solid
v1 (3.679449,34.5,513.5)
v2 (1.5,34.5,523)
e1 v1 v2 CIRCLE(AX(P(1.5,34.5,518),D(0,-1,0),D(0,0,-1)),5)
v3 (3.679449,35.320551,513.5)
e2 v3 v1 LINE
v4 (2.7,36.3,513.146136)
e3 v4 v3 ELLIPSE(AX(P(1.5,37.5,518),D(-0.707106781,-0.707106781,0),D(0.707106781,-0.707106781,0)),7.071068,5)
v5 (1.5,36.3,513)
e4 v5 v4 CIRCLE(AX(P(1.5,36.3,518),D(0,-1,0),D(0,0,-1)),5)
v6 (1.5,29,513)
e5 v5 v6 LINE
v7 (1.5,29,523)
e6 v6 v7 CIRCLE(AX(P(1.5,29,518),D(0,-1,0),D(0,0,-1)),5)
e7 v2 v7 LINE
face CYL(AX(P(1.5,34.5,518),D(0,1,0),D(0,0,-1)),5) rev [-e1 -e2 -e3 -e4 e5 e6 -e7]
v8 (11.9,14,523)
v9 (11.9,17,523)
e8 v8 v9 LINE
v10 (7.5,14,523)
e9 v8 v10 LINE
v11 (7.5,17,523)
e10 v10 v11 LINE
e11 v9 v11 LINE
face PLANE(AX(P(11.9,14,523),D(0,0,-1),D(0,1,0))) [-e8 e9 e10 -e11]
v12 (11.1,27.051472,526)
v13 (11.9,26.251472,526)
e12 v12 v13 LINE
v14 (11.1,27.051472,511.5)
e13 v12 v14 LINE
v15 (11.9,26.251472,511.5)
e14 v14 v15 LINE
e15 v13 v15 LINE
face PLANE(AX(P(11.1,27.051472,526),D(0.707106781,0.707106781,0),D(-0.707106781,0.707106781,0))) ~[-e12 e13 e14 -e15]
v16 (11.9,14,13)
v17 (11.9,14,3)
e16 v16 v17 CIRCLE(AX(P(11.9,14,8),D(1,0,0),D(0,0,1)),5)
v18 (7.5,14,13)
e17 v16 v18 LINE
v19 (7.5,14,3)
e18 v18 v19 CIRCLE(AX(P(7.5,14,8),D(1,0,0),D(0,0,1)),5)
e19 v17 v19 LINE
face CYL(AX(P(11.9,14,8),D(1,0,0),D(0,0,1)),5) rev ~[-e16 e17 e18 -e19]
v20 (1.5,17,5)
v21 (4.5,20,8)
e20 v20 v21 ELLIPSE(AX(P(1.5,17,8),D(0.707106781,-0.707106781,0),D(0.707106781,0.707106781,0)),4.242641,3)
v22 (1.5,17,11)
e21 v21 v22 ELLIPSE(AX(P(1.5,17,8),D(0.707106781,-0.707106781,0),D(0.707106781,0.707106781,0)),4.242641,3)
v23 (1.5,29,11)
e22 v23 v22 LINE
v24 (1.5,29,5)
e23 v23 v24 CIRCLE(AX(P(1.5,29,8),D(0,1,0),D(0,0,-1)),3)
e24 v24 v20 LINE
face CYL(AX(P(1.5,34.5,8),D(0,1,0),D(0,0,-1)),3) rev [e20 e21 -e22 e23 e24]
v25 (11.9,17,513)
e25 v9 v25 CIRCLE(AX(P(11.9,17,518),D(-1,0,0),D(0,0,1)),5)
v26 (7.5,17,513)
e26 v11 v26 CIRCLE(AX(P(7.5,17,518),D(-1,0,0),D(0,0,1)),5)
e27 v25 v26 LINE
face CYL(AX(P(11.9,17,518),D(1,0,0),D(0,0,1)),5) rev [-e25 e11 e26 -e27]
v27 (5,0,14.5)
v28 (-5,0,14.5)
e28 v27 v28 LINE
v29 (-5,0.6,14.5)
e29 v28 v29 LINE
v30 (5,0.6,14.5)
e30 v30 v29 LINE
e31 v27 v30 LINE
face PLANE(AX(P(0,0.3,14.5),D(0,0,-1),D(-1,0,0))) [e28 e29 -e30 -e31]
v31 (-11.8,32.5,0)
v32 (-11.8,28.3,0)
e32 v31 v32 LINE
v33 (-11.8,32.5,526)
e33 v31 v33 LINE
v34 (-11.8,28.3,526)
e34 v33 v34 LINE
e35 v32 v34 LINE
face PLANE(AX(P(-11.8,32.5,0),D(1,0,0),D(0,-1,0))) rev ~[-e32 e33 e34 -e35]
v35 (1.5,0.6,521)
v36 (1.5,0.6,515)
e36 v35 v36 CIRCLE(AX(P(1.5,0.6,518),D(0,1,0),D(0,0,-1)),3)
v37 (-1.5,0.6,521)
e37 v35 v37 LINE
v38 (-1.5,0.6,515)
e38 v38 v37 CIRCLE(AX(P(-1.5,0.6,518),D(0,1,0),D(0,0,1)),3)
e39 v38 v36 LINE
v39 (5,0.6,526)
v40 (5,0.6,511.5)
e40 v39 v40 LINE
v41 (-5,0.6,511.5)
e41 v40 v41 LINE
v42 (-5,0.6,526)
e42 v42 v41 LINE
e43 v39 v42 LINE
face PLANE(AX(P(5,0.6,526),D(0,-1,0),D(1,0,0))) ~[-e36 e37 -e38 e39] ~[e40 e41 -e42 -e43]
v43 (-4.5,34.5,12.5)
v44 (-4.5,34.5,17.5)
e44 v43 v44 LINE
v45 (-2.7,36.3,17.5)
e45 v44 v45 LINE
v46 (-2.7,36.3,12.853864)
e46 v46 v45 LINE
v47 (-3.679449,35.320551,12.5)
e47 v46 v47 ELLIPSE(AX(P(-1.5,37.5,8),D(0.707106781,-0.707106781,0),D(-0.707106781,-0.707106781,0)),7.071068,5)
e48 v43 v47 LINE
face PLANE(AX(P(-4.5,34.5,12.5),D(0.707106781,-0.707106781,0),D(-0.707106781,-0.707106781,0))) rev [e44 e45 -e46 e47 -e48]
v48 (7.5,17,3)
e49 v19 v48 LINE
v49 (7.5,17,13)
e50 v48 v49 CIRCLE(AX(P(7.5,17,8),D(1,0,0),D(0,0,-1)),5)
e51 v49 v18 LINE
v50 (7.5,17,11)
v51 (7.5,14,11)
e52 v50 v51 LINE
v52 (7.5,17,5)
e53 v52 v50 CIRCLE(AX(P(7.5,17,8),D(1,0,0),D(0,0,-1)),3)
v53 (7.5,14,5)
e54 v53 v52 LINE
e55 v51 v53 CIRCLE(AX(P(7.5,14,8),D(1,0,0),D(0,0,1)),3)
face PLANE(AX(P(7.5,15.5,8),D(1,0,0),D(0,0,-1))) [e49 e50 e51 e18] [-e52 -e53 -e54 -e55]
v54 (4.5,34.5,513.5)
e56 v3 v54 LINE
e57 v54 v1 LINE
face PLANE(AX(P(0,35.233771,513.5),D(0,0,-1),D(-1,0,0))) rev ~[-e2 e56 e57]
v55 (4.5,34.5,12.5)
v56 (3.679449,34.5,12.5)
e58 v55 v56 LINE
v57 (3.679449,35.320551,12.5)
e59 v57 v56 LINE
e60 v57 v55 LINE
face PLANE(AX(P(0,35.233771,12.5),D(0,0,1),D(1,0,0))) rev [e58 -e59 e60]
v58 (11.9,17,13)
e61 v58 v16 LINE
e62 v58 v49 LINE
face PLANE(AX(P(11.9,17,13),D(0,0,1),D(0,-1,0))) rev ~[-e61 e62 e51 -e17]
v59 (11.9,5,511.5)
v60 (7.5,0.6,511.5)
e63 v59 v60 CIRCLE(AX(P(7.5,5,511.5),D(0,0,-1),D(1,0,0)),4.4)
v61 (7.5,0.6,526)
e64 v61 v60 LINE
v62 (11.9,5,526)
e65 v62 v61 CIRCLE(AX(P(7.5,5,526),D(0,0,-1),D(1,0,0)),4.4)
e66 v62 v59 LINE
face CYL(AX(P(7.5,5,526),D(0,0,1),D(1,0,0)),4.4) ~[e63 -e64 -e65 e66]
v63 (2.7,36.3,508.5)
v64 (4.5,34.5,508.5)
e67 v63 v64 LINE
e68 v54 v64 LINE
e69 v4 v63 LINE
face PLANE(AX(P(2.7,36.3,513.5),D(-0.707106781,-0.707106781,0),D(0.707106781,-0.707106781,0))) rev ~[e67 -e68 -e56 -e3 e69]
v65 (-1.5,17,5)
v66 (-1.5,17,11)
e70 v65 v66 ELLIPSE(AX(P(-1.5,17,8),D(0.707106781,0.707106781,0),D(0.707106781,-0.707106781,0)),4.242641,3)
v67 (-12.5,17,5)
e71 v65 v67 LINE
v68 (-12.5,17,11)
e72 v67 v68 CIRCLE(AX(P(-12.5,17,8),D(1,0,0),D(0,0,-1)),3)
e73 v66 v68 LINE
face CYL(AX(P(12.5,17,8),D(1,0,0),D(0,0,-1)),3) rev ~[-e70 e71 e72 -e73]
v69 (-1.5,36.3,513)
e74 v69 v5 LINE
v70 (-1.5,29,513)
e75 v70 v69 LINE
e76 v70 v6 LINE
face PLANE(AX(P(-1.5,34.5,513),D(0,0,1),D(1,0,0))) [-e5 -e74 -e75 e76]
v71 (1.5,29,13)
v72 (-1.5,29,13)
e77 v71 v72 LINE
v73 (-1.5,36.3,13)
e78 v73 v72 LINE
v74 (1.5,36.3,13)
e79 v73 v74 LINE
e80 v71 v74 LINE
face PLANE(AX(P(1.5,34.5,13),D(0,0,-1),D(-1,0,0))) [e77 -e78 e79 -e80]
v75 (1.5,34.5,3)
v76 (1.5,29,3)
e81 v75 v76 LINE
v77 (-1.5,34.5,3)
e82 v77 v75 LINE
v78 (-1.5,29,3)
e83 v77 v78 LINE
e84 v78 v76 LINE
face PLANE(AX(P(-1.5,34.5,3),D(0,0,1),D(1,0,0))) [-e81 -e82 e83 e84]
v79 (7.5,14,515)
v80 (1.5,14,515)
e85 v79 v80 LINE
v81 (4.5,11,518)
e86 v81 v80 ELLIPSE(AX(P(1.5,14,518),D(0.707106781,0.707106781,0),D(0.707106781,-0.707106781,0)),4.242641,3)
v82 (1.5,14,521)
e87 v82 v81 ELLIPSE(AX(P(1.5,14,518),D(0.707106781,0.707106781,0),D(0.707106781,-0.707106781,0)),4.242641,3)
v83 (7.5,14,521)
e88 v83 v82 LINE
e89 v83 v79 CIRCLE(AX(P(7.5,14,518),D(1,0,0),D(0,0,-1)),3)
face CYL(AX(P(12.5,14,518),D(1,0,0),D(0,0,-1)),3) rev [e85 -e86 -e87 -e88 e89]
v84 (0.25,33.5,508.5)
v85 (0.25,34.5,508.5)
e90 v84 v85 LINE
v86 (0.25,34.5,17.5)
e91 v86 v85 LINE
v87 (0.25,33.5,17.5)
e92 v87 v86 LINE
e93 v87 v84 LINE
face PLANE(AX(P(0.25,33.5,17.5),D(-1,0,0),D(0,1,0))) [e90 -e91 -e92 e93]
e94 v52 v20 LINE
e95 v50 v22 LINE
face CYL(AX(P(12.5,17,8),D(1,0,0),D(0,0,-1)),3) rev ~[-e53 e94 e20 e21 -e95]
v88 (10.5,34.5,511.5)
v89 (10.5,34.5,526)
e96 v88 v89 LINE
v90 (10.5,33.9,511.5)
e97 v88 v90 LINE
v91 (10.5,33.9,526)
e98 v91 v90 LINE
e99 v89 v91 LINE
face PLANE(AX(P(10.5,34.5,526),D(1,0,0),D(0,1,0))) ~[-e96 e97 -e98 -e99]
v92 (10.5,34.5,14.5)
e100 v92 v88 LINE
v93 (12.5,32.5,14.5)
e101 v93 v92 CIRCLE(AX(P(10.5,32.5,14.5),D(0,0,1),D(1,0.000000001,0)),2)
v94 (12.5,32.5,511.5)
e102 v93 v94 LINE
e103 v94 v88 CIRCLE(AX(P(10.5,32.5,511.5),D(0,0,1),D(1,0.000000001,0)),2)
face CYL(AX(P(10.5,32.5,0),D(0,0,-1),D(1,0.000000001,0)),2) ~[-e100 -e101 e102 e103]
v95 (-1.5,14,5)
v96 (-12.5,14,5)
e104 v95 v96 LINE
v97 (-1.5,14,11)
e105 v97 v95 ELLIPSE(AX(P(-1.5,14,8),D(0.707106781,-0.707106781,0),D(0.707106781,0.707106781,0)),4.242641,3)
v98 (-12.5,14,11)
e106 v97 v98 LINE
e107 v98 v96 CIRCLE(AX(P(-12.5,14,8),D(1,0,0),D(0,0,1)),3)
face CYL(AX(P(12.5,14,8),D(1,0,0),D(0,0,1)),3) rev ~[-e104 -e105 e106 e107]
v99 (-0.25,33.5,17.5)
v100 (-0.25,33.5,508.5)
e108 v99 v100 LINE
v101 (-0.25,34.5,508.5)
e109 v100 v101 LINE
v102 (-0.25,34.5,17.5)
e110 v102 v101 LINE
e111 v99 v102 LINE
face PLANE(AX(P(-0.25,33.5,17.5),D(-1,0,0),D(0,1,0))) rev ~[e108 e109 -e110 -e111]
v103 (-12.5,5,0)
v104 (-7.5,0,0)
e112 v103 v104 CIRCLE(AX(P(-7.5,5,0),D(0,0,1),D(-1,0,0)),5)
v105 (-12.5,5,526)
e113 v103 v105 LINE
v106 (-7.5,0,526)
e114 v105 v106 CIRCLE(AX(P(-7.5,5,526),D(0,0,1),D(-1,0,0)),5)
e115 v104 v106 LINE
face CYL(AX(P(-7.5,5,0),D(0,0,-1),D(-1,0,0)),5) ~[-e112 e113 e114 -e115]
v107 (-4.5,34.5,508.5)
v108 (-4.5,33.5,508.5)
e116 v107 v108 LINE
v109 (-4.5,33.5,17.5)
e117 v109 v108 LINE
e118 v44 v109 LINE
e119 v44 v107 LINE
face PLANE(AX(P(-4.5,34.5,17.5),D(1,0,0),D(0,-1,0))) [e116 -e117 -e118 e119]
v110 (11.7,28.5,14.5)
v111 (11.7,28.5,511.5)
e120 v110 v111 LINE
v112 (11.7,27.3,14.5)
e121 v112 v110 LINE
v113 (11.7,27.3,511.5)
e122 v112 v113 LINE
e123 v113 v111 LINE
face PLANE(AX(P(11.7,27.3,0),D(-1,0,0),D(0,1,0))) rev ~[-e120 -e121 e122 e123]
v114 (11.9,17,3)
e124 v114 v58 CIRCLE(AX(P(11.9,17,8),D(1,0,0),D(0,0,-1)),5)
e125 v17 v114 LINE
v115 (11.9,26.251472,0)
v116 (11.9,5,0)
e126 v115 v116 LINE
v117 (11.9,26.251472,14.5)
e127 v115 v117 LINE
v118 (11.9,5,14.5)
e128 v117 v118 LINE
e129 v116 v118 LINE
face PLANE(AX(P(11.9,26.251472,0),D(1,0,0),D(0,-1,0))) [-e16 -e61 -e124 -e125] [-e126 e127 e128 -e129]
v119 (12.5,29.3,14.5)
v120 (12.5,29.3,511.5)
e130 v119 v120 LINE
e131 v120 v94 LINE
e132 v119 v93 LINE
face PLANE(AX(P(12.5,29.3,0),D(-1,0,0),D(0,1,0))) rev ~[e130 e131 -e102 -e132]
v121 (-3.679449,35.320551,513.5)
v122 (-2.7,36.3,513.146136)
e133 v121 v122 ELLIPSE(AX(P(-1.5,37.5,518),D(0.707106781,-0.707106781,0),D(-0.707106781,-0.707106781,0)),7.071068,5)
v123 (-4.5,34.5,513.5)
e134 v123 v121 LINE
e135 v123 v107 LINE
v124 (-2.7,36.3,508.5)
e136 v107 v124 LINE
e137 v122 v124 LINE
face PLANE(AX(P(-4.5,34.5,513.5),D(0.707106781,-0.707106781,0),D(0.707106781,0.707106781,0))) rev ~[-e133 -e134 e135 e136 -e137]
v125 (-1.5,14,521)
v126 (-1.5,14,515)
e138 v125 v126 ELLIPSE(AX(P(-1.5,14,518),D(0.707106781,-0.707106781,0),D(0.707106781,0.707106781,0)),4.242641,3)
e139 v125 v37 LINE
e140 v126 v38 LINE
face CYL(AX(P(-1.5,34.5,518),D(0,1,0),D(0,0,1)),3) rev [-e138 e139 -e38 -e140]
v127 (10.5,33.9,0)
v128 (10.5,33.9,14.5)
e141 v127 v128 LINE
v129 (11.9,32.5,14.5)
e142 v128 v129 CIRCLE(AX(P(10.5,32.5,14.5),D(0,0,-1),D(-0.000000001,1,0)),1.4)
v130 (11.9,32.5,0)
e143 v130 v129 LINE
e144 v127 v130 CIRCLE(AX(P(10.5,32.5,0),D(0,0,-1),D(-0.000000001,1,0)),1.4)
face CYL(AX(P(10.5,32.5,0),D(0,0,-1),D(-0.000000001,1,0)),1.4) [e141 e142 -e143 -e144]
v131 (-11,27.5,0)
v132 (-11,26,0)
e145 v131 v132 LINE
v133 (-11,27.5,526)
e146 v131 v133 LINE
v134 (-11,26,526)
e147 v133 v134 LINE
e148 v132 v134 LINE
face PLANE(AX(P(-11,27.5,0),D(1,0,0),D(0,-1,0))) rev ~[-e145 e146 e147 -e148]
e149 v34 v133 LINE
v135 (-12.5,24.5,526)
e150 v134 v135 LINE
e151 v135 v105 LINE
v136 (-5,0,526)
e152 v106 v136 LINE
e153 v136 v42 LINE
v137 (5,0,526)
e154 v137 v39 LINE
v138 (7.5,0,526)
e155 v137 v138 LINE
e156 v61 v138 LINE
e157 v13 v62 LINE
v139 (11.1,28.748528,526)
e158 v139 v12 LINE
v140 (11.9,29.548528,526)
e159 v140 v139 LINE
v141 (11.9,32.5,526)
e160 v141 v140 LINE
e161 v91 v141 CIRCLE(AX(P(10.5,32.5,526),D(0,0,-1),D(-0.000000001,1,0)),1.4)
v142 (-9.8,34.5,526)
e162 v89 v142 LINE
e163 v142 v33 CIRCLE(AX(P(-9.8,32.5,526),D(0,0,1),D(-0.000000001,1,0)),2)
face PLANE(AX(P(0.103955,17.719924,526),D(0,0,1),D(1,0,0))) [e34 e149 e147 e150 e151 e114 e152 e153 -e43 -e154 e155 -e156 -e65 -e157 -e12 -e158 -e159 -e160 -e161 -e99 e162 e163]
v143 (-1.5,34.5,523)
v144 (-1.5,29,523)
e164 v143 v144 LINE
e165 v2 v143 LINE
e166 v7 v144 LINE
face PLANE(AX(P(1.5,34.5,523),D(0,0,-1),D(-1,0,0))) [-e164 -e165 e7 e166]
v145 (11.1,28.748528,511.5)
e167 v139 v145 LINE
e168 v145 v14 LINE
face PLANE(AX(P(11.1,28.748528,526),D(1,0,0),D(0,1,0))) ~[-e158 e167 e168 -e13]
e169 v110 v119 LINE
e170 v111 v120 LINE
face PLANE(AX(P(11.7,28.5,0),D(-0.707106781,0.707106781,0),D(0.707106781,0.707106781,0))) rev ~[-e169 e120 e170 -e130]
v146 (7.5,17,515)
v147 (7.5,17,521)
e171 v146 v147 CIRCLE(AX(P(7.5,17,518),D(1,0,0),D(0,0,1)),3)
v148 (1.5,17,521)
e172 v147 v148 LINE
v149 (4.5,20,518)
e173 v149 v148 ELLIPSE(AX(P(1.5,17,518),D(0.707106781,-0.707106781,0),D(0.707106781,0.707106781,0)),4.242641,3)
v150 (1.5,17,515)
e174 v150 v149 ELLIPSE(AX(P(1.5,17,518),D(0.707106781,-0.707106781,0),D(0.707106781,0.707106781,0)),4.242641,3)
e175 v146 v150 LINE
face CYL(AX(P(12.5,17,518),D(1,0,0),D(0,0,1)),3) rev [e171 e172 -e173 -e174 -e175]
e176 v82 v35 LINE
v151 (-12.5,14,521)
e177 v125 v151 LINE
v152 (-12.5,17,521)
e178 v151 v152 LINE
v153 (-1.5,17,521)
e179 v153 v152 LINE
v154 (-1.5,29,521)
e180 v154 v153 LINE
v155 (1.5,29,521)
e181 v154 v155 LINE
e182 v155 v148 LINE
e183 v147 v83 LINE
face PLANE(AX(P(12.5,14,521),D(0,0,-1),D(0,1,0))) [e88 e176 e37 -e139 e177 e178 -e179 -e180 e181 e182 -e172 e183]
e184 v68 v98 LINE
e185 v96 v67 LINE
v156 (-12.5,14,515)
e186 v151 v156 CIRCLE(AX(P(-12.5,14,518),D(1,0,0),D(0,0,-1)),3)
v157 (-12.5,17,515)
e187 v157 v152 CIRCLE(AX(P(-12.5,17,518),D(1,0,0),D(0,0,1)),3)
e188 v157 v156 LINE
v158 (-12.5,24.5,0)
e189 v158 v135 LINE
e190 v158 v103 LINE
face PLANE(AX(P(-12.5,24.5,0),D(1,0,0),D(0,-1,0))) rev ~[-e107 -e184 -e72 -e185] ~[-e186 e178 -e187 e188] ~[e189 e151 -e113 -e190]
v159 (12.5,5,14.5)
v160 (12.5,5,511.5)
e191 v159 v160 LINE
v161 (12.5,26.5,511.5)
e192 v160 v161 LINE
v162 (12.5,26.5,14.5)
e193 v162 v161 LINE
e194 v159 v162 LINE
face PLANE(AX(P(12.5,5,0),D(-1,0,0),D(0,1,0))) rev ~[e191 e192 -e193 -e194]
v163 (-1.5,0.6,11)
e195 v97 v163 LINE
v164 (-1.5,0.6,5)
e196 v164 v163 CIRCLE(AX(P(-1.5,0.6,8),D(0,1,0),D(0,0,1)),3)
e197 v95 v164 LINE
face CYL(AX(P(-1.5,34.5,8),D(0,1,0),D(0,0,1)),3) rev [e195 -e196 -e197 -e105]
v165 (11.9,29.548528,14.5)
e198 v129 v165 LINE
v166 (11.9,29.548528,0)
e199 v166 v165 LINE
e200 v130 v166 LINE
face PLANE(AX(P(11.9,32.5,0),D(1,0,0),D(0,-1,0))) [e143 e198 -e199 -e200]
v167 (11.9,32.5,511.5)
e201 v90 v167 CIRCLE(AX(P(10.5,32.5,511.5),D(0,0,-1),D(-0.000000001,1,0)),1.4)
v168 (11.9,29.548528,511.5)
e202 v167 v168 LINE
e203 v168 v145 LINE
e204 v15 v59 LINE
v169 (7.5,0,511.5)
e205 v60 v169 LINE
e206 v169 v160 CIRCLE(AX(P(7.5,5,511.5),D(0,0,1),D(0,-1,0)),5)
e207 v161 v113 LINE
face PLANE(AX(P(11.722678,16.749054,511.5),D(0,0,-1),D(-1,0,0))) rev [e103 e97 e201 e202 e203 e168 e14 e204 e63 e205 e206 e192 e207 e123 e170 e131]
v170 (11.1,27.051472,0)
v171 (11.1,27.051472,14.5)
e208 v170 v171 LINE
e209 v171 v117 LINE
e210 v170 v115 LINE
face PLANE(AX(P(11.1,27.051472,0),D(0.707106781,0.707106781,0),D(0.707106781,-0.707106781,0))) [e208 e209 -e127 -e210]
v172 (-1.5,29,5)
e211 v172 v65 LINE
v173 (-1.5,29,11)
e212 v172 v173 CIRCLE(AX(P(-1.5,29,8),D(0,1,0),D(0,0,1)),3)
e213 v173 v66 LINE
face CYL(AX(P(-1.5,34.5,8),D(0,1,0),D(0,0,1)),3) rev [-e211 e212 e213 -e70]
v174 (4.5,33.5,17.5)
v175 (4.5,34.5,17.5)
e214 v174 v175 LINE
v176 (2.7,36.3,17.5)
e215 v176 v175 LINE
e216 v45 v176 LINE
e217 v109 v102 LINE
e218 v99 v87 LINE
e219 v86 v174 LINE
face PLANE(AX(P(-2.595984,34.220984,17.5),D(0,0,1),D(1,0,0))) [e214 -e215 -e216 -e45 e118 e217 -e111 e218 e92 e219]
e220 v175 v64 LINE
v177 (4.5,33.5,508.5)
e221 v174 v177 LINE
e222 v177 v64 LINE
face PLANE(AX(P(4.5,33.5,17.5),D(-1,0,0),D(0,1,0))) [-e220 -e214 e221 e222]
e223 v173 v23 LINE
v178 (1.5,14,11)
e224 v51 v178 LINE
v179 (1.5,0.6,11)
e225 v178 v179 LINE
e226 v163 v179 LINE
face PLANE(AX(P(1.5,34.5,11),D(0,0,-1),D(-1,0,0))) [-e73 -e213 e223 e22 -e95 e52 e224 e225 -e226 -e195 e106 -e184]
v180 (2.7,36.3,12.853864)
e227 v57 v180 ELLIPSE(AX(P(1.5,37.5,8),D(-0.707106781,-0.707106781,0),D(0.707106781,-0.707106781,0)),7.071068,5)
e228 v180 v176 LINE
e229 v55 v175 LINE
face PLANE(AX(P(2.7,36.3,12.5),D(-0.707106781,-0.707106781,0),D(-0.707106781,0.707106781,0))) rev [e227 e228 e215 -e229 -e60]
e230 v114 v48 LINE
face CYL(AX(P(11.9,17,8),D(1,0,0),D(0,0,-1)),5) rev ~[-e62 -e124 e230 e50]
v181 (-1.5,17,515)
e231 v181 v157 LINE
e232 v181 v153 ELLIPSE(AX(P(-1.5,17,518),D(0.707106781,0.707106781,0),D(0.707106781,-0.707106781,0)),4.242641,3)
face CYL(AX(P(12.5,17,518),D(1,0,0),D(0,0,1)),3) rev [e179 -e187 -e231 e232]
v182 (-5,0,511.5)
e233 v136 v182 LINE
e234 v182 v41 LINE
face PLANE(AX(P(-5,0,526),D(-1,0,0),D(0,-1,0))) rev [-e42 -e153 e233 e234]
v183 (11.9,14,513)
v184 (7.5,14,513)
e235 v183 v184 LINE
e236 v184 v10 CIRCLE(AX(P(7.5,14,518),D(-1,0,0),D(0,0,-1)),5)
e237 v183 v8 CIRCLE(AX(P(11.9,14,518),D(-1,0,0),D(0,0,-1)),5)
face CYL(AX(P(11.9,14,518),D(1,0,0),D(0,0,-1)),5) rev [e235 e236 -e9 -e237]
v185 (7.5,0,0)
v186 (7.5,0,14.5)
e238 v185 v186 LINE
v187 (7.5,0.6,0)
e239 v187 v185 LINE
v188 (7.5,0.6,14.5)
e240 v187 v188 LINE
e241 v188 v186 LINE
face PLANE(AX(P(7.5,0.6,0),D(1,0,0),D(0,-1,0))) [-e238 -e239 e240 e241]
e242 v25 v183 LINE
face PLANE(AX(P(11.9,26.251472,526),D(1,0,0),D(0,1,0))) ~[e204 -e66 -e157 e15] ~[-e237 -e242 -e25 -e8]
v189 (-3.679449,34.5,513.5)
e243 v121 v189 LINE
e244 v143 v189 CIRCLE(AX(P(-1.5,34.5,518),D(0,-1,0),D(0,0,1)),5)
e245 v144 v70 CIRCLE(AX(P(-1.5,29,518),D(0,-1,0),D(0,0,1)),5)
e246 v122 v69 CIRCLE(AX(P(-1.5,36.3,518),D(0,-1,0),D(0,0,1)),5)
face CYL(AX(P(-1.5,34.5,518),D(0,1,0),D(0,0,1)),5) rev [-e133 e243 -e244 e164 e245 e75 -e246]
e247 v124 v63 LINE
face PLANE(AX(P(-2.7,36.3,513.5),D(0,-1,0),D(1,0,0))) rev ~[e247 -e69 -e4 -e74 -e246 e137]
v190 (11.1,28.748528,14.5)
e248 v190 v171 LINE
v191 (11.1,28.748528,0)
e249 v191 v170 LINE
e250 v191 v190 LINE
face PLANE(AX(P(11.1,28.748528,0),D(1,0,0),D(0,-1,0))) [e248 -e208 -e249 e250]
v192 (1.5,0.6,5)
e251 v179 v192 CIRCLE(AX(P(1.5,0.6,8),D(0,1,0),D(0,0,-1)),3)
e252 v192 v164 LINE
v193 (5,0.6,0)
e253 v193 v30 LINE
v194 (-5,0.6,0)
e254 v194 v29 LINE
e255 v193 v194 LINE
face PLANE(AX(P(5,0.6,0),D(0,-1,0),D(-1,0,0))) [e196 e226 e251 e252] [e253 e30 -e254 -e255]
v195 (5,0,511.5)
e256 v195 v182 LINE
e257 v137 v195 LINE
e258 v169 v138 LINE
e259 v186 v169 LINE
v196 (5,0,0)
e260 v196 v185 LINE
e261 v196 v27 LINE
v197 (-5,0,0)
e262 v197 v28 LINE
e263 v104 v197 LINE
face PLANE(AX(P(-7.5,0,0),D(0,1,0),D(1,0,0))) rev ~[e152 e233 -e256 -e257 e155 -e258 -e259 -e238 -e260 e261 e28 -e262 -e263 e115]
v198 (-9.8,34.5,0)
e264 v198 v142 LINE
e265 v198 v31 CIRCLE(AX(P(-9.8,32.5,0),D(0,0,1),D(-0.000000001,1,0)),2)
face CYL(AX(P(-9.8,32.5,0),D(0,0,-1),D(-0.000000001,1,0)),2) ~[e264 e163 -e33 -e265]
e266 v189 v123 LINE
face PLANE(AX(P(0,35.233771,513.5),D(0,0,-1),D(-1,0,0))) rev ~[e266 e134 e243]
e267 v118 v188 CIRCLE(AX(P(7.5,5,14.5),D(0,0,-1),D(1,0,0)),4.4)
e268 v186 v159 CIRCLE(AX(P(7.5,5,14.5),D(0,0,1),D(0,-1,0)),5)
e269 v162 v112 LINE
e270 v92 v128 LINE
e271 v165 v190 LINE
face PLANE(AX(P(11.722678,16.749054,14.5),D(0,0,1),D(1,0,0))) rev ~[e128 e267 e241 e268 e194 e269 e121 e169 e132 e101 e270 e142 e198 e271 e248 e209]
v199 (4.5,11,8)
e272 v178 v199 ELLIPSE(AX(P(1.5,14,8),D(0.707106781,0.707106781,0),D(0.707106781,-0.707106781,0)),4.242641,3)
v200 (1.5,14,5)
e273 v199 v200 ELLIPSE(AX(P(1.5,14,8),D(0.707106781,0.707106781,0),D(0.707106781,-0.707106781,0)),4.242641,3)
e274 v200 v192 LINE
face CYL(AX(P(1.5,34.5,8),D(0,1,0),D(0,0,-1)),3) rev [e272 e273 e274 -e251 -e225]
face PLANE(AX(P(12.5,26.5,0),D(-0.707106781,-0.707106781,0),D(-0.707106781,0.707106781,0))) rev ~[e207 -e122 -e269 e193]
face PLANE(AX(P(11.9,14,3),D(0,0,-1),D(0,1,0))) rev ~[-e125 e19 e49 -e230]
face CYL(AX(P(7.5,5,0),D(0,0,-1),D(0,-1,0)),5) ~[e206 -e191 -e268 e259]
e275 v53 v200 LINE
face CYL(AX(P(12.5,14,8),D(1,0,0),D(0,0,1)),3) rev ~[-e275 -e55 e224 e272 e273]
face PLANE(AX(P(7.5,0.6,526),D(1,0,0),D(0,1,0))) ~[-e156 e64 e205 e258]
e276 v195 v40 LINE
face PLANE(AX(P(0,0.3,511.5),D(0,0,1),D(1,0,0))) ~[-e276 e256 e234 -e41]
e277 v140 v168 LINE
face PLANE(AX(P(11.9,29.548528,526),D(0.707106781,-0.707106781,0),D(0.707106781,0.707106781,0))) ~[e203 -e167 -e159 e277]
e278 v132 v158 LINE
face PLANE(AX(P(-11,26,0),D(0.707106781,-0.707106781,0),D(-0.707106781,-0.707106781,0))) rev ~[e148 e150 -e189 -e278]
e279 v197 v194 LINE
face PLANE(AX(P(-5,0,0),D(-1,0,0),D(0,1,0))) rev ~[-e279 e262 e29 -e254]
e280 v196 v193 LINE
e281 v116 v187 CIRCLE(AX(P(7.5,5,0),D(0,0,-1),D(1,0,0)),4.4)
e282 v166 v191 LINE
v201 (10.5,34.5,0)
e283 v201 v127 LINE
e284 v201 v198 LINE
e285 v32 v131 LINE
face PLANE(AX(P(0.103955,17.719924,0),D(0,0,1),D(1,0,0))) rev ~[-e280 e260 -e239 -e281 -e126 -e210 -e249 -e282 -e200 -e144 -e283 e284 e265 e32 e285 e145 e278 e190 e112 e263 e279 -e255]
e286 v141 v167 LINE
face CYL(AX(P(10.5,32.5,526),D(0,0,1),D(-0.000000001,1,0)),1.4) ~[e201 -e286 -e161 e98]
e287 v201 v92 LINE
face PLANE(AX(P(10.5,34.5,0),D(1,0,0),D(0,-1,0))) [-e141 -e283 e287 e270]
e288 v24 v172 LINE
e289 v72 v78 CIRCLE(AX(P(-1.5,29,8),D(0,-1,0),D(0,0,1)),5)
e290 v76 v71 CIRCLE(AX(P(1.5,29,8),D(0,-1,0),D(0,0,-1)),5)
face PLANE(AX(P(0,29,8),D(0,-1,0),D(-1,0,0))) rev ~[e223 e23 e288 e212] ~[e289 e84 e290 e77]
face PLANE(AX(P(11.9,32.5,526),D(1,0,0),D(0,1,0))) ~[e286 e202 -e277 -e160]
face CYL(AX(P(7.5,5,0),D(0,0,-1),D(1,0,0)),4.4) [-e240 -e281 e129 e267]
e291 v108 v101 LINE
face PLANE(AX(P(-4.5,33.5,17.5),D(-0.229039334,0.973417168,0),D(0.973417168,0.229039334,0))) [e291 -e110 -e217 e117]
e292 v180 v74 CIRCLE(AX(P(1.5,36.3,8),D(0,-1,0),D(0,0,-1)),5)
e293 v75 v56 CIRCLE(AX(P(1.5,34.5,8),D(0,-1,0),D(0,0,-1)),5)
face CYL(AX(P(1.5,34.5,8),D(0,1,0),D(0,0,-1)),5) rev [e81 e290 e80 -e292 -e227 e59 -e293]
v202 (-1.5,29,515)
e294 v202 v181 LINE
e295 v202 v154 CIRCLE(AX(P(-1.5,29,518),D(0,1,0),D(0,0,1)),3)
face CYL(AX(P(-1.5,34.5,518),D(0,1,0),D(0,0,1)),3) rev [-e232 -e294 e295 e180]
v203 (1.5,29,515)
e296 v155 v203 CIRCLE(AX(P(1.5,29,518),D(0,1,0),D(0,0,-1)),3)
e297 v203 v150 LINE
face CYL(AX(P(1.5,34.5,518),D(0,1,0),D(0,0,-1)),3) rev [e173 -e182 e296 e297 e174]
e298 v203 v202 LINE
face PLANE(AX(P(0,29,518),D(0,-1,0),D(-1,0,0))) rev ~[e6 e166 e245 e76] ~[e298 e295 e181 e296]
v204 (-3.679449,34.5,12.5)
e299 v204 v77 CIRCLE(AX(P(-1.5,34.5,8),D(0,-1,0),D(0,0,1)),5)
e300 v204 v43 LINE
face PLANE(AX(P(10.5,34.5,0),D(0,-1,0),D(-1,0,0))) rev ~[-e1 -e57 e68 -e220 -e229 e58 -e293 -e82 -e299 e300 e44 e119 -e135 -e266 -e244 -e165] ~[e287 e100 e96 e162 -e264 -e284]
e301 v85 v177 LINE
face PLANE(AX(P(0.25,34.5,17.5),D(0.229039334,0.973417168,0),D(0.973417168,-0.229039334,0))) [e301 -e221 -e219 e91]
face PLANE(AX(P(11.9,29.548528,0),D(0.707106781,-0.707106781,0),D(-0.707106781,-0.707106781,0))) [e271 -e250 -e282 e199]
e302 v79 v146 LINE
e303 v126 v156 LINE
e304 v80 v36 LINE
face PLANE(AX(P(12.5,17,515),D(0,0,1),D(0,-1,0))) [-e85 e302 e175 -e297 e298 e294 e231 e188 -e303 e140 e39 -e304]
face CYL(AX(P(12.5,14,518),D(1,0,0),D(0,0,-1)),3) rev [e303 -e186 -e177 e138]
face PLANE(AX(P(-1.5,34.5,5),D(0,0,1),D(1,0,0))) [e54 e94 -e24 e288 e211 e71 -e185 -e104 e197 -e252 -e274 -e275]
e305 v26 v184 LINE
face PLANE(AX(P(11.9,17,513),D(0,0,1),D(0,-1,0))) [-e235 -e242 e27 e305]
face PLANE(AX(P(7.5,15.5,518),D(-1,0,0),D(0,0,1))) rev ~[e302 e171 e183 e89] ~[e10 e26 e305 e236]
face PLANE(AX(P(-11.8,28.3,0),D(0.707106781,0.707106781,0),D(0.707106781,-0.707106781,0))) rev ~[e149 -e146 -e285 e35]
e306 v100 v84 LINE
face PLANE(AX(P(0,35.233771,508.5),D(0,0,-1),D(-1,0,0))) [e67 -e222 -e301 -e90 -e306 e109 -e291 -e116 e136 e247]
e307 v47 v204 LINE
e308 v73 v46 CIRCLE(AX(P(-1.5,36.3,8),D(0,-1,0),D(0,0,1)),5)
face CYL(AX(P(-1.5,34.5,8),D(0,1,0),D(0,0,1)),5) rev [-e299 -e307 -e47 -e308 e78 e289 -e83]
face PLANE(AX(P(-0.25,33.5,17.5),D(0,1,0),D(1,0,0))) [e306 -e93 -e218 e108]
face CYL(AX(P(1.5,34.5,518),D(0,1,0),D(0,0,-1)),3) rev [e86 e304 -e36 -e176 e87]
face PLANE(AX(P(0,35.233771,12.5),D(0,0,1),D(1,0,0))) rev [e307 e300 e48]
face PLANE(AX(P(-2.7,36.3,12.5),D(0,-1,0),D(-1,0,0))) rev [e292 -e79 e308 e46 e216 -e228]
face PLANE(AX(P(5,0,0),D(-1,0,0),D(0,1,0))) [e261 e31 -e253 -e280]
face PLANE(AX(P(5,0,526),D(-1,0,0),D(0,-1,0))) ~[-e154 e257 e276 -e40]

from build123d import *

# Parameters (mm, degrees)
EXTRUDE_1_DEPTH          = 526
SKETCH_2_W               = 10
SKETCH_2_H               = 0.6
CUT_EXTRUDE_1_DEPTH      = 14.5
EXTRUDE_START            = -12.5
EXTRUDE_2_DEPTH          = 5
CUT_EXTRUDE_2_DEPTH      = 4.4
CUT_EXTRUDE_3_DEPTH      = 26
CUT_EXTRUDE_4_DEPTH      = 5.5
CUT_EXTRUDE_4_DEPTH_BACK = 5.5
CUT_EXTRUDE_5_DEPTH      = 35.5
SKETCH_8_W               = 0.5
SKETCH_8_H               = 1
CUT_EXTRUDE_8_DEPTH      = 491


with BuildPart() as part:
    # Эскиз1 → Бобышка-Вытянуть1 (new body)
    with BuildSketch(Plane.XY):
        with BuildLine():
            Line((-11.8, 32.5), (-11.8, 28.3))
            Line((-11.8, 28.3), (-11, 27.5))
            Line((-11, 27.5), (-11, 26))
            Line((-11, 26), (-12.5, 24.5))
            Line((-12.5, 24.5), (-12.5, 5))
            ThreePointArc((-12.5, 5), (-11.035533906, 1.464466094), (-7.5, 0))
            Line((-7.5, 0), (7.5, 0))
            ThreePointArc((7.5, 0), (11.035533906, 1.464466094), (12.5, 5))
            Line((12.5, 5), (12.5, 26.5))
            Line((12.5, 26.5), (11.7, 27.3))
            Line((11.7, 27.3), (11.7, 28.5))
            Line((11.7, 28.5), (12.5, 29.3))
            Line((12.5, 29.3), (12.5, 32.5))
            ThreePointArc((12.5, 32.5), (11.914213562, 33.914213562), (10.5, 34.5))
            Line((10.5, 34.5), (-9.8, 34.5))
            ThreePointArc((-9.8, 34.5), (-11.214213562, 33.914213562), (-11.8, 32.5))
        make_face()
    extrude(amount=EXTRUDE_1_DEPTH)

    # Эскиз2 → Вырез-Вытянуть1 (cut)
    with BuildSketch(Plane(origin=(0, 0, 0), x_dir=(-1, 0, 0), z_dir=(0, 0, -1))):
        with BuildLine():
            ThreePointArc((-10.5, 33.9), (-11.489949494, 33.489949494), (-11.9, 32.5))
            Line((-11.9, 32.5), (-11.9, 29.548528137))
            Line((-11.9, 29.548528137), (-11.1, 28.748528137))
            Line((-11.1, 28.748528137), (-11.1, 27.051471863))
            Line((-11.1, 27.051471863), (-11.9, 26.251471863))
            Line((-11.9, 26.251471863), (-11.9, 5))
            ThreePointArc((-11.9, 5), (-10.611269837, 1.888730163), (-7.5, 0.6))
            Line((-7.5, 0.6), (-7.5, 0))
            ThreePointArc((-7.5, 0), (-11.035533906, 1.464466094), (-12.5, 5))
            Line((-12.5, 5), (-12.5, 26.5))
            Line((-12.5, 26.5), (-11.7, 27.3))
            Line((-11.7, 27.3), (-11.7, 28.5))
            Line((-11.7, 28.5), (-12.5, 29.3))
            Line((-12.5, 29.3), (-12.5, 32.5))
            ThreePointArc((-12.5, 32.5), (-11.914213562, 33.914213562), (-10.5, 34.5))
            Line((-10.5, 34.5), (-10.5, 33.9))
        make_face()
        with Locations((0, 0.3)):
            Rectangle(SKETCH_2_W, SKETCH_2_H)
    cut_extrude_1 = extrude(amount=-CUT_EXTRUDE_1_DEPTH, mode=Mode.SUBTRACT)

    # Эскиз5 → Бобышка-Вытянуть2 (add)
    with BuildSketch(Plane.XY.offset(526).offset(EXTRUDE_START)):
        Polygon((-4.5, 34.5), (-2.7, 36.3), (2.7, 36.3), (4.5, 34.5), align=None)
    extrude_2 = extrude(amount=-EXTRUDE_2_DEPTH)

    # Зеркальное отражение1: Вырез-Вытянуть1, Бобышка-Вытянуть2 across plane
    add(cut_extrude_1.mirror(Plane.XY.offset(263)), mode=Mode.SUBTRACT)
    add(extrude_2.mirror(Plane.XY.offset(263)))

    # Эскиз3 → Вырез-Вытянуть2 (cut)
    with BuildSketch(Plane(origin=(11.9, 0, 0), x_dir=(0, 0, -1), z_dir=(1, 0, 0))):
        with BuildLine():
            Line((-523, 14), (-523, 17))
            ThreePointArc((-523, 17), (-518, 22), (-513, 17))
            Line((-513, 17), (-513, 14))
            ThreePointArc((-513, 14), (-518, 9), (-523, 14))
        make_face()
        with BuildLine():
            Line((-3, 14), (-3, 17))
            ThreePointArc((-3, 17), (-8, 22), (-13, 17))
            Line((-13, 17), (-13, 14))
            ThreePointArc((-13, 14), (-8, 9), (-3, 14))
        make_face()
    extrude(amount=-CUT_EXTRUDE_2_DEPTH, mode=Mode.SUBTRACT)

    # Эскиз4 → Вырез-Вытянуть3 (cut, through all)
    with BuildSketch(Plane(origin=(12.5, 0, 0), x_dir=(0, 0, -1), z_dir=(1, 0, 0))):
        with BuildLine():
            Line((-521, 14), (-521, 17))
            ThreePointArc((-521, 17), (-518, 20), (-515, 17))
            Line((-515, 17), (-515, 14))
            ThreePointArc((-515, 14), (-518, 11), (-521, 14))
        make_face()
        with BuildLine():
            Line((-5, 14), (-5, 17))
            ThreePointArc((-5, 17), (-8, 20), (-11, 17))
            Line((-11, 17), (-11, 14))
            ThreePointArc((-11, 14), (-8, 11), (-5, 14))
        make_face()
    extrude(amount=-CUT_EXTRUDE_3_DEPTH, mode=Mode.SUBTRACT)

    # Эскиз6 → Вырез-Вытянуть4 (cut, two sides)
    with BuildSketch(Plane(origin=(0, 34.5, 0), x_dir=(1, 0, 0), z_dir=(0, 1, 0))) as cut_extrude_4_sk:
        with BuildLine():
            Line((-1.5, -3), (1.5, -3))
            ThreePointArc((1.5, -3), (6.5, -8), (1.5, -13))
            Line((1.5, -13), (-1.5, -13))
            ThreePointArc((-1.5, -13), (-6.5, -8), (-1.5, -3))
        make_face()
        with BuildLine():
            Line((-1.5, -513), (1.5, -513))
            ThreePointArc((1.5, -513), (6.5, -518), (1.5, -523))
            Line((1.5, -523), (-1.5, -523))
            ThreePointArc((-1.5, -523), (-6.5, -518), (-1.5, -513))
        make_face()
    extrude(amount=CUT_EXTRUDE_4_DEPTH, mode=Mode.SUBTRACT)
    extrude(cut_extrude_4_sk.sketch, amount=-CUT_EXTRUDE_4_DEPTH_BACK, mode=Mode.SUBTRACT)

    # Эскиз7 → Вырез-Вытянуть5 (cut, through all)
    with BuildSketch(Plane(origin=(0, 34.5, 0), x_dir=(1, 0, 0), z_dir=(0, 1, 0))):
        with BuildLine():
            Line((-1.5, -515), (1.5, -515))
            ThreePointArc((1.5, -515), (4.5, -518), (1.5, -521))
            Line((1.5, -521), (-1.5, -521))
            ThreePointArc((-1.5, -521), (-4.5, -518), (-1.5, -515))
        make_face()
        with BuildLine():
            Line((-1.5, -5), (1.5, -5))
            ThreePointArc((1.5, -5), (4.5, -8), (1.5, -11))
            Line((1.5, -11), (-1.5, -11))
            ThreePointArc((-1.5, -11), (-4.5, -8), (-1.5, -5))
        make_face()
    extrude(amount=-CUT_EXTRUDE_5_DEPTH, mode=Mode.SUBTRACT)

    # Эскиз8 → Вырез-Вытянуть8 (cut)
    with BuildSketch(Plane.XY.offset(17.5)):
        Polygon((-0.25, 34.5), (-4.5, 34.5), (-4.5, 33.5), align=None)
        with Locations((0, 34)):
            Rectangle(SKETCH_8_W, SKETCH_8_H)
        Polygon((4.5, 34.5), (0.25, 34.5), (4.5, 33.5), align=None)
    extrude(amount=CUT_EXTRUDE_8_DEPTH, mode=Mode.SUBTRACT)


solid = part.part
